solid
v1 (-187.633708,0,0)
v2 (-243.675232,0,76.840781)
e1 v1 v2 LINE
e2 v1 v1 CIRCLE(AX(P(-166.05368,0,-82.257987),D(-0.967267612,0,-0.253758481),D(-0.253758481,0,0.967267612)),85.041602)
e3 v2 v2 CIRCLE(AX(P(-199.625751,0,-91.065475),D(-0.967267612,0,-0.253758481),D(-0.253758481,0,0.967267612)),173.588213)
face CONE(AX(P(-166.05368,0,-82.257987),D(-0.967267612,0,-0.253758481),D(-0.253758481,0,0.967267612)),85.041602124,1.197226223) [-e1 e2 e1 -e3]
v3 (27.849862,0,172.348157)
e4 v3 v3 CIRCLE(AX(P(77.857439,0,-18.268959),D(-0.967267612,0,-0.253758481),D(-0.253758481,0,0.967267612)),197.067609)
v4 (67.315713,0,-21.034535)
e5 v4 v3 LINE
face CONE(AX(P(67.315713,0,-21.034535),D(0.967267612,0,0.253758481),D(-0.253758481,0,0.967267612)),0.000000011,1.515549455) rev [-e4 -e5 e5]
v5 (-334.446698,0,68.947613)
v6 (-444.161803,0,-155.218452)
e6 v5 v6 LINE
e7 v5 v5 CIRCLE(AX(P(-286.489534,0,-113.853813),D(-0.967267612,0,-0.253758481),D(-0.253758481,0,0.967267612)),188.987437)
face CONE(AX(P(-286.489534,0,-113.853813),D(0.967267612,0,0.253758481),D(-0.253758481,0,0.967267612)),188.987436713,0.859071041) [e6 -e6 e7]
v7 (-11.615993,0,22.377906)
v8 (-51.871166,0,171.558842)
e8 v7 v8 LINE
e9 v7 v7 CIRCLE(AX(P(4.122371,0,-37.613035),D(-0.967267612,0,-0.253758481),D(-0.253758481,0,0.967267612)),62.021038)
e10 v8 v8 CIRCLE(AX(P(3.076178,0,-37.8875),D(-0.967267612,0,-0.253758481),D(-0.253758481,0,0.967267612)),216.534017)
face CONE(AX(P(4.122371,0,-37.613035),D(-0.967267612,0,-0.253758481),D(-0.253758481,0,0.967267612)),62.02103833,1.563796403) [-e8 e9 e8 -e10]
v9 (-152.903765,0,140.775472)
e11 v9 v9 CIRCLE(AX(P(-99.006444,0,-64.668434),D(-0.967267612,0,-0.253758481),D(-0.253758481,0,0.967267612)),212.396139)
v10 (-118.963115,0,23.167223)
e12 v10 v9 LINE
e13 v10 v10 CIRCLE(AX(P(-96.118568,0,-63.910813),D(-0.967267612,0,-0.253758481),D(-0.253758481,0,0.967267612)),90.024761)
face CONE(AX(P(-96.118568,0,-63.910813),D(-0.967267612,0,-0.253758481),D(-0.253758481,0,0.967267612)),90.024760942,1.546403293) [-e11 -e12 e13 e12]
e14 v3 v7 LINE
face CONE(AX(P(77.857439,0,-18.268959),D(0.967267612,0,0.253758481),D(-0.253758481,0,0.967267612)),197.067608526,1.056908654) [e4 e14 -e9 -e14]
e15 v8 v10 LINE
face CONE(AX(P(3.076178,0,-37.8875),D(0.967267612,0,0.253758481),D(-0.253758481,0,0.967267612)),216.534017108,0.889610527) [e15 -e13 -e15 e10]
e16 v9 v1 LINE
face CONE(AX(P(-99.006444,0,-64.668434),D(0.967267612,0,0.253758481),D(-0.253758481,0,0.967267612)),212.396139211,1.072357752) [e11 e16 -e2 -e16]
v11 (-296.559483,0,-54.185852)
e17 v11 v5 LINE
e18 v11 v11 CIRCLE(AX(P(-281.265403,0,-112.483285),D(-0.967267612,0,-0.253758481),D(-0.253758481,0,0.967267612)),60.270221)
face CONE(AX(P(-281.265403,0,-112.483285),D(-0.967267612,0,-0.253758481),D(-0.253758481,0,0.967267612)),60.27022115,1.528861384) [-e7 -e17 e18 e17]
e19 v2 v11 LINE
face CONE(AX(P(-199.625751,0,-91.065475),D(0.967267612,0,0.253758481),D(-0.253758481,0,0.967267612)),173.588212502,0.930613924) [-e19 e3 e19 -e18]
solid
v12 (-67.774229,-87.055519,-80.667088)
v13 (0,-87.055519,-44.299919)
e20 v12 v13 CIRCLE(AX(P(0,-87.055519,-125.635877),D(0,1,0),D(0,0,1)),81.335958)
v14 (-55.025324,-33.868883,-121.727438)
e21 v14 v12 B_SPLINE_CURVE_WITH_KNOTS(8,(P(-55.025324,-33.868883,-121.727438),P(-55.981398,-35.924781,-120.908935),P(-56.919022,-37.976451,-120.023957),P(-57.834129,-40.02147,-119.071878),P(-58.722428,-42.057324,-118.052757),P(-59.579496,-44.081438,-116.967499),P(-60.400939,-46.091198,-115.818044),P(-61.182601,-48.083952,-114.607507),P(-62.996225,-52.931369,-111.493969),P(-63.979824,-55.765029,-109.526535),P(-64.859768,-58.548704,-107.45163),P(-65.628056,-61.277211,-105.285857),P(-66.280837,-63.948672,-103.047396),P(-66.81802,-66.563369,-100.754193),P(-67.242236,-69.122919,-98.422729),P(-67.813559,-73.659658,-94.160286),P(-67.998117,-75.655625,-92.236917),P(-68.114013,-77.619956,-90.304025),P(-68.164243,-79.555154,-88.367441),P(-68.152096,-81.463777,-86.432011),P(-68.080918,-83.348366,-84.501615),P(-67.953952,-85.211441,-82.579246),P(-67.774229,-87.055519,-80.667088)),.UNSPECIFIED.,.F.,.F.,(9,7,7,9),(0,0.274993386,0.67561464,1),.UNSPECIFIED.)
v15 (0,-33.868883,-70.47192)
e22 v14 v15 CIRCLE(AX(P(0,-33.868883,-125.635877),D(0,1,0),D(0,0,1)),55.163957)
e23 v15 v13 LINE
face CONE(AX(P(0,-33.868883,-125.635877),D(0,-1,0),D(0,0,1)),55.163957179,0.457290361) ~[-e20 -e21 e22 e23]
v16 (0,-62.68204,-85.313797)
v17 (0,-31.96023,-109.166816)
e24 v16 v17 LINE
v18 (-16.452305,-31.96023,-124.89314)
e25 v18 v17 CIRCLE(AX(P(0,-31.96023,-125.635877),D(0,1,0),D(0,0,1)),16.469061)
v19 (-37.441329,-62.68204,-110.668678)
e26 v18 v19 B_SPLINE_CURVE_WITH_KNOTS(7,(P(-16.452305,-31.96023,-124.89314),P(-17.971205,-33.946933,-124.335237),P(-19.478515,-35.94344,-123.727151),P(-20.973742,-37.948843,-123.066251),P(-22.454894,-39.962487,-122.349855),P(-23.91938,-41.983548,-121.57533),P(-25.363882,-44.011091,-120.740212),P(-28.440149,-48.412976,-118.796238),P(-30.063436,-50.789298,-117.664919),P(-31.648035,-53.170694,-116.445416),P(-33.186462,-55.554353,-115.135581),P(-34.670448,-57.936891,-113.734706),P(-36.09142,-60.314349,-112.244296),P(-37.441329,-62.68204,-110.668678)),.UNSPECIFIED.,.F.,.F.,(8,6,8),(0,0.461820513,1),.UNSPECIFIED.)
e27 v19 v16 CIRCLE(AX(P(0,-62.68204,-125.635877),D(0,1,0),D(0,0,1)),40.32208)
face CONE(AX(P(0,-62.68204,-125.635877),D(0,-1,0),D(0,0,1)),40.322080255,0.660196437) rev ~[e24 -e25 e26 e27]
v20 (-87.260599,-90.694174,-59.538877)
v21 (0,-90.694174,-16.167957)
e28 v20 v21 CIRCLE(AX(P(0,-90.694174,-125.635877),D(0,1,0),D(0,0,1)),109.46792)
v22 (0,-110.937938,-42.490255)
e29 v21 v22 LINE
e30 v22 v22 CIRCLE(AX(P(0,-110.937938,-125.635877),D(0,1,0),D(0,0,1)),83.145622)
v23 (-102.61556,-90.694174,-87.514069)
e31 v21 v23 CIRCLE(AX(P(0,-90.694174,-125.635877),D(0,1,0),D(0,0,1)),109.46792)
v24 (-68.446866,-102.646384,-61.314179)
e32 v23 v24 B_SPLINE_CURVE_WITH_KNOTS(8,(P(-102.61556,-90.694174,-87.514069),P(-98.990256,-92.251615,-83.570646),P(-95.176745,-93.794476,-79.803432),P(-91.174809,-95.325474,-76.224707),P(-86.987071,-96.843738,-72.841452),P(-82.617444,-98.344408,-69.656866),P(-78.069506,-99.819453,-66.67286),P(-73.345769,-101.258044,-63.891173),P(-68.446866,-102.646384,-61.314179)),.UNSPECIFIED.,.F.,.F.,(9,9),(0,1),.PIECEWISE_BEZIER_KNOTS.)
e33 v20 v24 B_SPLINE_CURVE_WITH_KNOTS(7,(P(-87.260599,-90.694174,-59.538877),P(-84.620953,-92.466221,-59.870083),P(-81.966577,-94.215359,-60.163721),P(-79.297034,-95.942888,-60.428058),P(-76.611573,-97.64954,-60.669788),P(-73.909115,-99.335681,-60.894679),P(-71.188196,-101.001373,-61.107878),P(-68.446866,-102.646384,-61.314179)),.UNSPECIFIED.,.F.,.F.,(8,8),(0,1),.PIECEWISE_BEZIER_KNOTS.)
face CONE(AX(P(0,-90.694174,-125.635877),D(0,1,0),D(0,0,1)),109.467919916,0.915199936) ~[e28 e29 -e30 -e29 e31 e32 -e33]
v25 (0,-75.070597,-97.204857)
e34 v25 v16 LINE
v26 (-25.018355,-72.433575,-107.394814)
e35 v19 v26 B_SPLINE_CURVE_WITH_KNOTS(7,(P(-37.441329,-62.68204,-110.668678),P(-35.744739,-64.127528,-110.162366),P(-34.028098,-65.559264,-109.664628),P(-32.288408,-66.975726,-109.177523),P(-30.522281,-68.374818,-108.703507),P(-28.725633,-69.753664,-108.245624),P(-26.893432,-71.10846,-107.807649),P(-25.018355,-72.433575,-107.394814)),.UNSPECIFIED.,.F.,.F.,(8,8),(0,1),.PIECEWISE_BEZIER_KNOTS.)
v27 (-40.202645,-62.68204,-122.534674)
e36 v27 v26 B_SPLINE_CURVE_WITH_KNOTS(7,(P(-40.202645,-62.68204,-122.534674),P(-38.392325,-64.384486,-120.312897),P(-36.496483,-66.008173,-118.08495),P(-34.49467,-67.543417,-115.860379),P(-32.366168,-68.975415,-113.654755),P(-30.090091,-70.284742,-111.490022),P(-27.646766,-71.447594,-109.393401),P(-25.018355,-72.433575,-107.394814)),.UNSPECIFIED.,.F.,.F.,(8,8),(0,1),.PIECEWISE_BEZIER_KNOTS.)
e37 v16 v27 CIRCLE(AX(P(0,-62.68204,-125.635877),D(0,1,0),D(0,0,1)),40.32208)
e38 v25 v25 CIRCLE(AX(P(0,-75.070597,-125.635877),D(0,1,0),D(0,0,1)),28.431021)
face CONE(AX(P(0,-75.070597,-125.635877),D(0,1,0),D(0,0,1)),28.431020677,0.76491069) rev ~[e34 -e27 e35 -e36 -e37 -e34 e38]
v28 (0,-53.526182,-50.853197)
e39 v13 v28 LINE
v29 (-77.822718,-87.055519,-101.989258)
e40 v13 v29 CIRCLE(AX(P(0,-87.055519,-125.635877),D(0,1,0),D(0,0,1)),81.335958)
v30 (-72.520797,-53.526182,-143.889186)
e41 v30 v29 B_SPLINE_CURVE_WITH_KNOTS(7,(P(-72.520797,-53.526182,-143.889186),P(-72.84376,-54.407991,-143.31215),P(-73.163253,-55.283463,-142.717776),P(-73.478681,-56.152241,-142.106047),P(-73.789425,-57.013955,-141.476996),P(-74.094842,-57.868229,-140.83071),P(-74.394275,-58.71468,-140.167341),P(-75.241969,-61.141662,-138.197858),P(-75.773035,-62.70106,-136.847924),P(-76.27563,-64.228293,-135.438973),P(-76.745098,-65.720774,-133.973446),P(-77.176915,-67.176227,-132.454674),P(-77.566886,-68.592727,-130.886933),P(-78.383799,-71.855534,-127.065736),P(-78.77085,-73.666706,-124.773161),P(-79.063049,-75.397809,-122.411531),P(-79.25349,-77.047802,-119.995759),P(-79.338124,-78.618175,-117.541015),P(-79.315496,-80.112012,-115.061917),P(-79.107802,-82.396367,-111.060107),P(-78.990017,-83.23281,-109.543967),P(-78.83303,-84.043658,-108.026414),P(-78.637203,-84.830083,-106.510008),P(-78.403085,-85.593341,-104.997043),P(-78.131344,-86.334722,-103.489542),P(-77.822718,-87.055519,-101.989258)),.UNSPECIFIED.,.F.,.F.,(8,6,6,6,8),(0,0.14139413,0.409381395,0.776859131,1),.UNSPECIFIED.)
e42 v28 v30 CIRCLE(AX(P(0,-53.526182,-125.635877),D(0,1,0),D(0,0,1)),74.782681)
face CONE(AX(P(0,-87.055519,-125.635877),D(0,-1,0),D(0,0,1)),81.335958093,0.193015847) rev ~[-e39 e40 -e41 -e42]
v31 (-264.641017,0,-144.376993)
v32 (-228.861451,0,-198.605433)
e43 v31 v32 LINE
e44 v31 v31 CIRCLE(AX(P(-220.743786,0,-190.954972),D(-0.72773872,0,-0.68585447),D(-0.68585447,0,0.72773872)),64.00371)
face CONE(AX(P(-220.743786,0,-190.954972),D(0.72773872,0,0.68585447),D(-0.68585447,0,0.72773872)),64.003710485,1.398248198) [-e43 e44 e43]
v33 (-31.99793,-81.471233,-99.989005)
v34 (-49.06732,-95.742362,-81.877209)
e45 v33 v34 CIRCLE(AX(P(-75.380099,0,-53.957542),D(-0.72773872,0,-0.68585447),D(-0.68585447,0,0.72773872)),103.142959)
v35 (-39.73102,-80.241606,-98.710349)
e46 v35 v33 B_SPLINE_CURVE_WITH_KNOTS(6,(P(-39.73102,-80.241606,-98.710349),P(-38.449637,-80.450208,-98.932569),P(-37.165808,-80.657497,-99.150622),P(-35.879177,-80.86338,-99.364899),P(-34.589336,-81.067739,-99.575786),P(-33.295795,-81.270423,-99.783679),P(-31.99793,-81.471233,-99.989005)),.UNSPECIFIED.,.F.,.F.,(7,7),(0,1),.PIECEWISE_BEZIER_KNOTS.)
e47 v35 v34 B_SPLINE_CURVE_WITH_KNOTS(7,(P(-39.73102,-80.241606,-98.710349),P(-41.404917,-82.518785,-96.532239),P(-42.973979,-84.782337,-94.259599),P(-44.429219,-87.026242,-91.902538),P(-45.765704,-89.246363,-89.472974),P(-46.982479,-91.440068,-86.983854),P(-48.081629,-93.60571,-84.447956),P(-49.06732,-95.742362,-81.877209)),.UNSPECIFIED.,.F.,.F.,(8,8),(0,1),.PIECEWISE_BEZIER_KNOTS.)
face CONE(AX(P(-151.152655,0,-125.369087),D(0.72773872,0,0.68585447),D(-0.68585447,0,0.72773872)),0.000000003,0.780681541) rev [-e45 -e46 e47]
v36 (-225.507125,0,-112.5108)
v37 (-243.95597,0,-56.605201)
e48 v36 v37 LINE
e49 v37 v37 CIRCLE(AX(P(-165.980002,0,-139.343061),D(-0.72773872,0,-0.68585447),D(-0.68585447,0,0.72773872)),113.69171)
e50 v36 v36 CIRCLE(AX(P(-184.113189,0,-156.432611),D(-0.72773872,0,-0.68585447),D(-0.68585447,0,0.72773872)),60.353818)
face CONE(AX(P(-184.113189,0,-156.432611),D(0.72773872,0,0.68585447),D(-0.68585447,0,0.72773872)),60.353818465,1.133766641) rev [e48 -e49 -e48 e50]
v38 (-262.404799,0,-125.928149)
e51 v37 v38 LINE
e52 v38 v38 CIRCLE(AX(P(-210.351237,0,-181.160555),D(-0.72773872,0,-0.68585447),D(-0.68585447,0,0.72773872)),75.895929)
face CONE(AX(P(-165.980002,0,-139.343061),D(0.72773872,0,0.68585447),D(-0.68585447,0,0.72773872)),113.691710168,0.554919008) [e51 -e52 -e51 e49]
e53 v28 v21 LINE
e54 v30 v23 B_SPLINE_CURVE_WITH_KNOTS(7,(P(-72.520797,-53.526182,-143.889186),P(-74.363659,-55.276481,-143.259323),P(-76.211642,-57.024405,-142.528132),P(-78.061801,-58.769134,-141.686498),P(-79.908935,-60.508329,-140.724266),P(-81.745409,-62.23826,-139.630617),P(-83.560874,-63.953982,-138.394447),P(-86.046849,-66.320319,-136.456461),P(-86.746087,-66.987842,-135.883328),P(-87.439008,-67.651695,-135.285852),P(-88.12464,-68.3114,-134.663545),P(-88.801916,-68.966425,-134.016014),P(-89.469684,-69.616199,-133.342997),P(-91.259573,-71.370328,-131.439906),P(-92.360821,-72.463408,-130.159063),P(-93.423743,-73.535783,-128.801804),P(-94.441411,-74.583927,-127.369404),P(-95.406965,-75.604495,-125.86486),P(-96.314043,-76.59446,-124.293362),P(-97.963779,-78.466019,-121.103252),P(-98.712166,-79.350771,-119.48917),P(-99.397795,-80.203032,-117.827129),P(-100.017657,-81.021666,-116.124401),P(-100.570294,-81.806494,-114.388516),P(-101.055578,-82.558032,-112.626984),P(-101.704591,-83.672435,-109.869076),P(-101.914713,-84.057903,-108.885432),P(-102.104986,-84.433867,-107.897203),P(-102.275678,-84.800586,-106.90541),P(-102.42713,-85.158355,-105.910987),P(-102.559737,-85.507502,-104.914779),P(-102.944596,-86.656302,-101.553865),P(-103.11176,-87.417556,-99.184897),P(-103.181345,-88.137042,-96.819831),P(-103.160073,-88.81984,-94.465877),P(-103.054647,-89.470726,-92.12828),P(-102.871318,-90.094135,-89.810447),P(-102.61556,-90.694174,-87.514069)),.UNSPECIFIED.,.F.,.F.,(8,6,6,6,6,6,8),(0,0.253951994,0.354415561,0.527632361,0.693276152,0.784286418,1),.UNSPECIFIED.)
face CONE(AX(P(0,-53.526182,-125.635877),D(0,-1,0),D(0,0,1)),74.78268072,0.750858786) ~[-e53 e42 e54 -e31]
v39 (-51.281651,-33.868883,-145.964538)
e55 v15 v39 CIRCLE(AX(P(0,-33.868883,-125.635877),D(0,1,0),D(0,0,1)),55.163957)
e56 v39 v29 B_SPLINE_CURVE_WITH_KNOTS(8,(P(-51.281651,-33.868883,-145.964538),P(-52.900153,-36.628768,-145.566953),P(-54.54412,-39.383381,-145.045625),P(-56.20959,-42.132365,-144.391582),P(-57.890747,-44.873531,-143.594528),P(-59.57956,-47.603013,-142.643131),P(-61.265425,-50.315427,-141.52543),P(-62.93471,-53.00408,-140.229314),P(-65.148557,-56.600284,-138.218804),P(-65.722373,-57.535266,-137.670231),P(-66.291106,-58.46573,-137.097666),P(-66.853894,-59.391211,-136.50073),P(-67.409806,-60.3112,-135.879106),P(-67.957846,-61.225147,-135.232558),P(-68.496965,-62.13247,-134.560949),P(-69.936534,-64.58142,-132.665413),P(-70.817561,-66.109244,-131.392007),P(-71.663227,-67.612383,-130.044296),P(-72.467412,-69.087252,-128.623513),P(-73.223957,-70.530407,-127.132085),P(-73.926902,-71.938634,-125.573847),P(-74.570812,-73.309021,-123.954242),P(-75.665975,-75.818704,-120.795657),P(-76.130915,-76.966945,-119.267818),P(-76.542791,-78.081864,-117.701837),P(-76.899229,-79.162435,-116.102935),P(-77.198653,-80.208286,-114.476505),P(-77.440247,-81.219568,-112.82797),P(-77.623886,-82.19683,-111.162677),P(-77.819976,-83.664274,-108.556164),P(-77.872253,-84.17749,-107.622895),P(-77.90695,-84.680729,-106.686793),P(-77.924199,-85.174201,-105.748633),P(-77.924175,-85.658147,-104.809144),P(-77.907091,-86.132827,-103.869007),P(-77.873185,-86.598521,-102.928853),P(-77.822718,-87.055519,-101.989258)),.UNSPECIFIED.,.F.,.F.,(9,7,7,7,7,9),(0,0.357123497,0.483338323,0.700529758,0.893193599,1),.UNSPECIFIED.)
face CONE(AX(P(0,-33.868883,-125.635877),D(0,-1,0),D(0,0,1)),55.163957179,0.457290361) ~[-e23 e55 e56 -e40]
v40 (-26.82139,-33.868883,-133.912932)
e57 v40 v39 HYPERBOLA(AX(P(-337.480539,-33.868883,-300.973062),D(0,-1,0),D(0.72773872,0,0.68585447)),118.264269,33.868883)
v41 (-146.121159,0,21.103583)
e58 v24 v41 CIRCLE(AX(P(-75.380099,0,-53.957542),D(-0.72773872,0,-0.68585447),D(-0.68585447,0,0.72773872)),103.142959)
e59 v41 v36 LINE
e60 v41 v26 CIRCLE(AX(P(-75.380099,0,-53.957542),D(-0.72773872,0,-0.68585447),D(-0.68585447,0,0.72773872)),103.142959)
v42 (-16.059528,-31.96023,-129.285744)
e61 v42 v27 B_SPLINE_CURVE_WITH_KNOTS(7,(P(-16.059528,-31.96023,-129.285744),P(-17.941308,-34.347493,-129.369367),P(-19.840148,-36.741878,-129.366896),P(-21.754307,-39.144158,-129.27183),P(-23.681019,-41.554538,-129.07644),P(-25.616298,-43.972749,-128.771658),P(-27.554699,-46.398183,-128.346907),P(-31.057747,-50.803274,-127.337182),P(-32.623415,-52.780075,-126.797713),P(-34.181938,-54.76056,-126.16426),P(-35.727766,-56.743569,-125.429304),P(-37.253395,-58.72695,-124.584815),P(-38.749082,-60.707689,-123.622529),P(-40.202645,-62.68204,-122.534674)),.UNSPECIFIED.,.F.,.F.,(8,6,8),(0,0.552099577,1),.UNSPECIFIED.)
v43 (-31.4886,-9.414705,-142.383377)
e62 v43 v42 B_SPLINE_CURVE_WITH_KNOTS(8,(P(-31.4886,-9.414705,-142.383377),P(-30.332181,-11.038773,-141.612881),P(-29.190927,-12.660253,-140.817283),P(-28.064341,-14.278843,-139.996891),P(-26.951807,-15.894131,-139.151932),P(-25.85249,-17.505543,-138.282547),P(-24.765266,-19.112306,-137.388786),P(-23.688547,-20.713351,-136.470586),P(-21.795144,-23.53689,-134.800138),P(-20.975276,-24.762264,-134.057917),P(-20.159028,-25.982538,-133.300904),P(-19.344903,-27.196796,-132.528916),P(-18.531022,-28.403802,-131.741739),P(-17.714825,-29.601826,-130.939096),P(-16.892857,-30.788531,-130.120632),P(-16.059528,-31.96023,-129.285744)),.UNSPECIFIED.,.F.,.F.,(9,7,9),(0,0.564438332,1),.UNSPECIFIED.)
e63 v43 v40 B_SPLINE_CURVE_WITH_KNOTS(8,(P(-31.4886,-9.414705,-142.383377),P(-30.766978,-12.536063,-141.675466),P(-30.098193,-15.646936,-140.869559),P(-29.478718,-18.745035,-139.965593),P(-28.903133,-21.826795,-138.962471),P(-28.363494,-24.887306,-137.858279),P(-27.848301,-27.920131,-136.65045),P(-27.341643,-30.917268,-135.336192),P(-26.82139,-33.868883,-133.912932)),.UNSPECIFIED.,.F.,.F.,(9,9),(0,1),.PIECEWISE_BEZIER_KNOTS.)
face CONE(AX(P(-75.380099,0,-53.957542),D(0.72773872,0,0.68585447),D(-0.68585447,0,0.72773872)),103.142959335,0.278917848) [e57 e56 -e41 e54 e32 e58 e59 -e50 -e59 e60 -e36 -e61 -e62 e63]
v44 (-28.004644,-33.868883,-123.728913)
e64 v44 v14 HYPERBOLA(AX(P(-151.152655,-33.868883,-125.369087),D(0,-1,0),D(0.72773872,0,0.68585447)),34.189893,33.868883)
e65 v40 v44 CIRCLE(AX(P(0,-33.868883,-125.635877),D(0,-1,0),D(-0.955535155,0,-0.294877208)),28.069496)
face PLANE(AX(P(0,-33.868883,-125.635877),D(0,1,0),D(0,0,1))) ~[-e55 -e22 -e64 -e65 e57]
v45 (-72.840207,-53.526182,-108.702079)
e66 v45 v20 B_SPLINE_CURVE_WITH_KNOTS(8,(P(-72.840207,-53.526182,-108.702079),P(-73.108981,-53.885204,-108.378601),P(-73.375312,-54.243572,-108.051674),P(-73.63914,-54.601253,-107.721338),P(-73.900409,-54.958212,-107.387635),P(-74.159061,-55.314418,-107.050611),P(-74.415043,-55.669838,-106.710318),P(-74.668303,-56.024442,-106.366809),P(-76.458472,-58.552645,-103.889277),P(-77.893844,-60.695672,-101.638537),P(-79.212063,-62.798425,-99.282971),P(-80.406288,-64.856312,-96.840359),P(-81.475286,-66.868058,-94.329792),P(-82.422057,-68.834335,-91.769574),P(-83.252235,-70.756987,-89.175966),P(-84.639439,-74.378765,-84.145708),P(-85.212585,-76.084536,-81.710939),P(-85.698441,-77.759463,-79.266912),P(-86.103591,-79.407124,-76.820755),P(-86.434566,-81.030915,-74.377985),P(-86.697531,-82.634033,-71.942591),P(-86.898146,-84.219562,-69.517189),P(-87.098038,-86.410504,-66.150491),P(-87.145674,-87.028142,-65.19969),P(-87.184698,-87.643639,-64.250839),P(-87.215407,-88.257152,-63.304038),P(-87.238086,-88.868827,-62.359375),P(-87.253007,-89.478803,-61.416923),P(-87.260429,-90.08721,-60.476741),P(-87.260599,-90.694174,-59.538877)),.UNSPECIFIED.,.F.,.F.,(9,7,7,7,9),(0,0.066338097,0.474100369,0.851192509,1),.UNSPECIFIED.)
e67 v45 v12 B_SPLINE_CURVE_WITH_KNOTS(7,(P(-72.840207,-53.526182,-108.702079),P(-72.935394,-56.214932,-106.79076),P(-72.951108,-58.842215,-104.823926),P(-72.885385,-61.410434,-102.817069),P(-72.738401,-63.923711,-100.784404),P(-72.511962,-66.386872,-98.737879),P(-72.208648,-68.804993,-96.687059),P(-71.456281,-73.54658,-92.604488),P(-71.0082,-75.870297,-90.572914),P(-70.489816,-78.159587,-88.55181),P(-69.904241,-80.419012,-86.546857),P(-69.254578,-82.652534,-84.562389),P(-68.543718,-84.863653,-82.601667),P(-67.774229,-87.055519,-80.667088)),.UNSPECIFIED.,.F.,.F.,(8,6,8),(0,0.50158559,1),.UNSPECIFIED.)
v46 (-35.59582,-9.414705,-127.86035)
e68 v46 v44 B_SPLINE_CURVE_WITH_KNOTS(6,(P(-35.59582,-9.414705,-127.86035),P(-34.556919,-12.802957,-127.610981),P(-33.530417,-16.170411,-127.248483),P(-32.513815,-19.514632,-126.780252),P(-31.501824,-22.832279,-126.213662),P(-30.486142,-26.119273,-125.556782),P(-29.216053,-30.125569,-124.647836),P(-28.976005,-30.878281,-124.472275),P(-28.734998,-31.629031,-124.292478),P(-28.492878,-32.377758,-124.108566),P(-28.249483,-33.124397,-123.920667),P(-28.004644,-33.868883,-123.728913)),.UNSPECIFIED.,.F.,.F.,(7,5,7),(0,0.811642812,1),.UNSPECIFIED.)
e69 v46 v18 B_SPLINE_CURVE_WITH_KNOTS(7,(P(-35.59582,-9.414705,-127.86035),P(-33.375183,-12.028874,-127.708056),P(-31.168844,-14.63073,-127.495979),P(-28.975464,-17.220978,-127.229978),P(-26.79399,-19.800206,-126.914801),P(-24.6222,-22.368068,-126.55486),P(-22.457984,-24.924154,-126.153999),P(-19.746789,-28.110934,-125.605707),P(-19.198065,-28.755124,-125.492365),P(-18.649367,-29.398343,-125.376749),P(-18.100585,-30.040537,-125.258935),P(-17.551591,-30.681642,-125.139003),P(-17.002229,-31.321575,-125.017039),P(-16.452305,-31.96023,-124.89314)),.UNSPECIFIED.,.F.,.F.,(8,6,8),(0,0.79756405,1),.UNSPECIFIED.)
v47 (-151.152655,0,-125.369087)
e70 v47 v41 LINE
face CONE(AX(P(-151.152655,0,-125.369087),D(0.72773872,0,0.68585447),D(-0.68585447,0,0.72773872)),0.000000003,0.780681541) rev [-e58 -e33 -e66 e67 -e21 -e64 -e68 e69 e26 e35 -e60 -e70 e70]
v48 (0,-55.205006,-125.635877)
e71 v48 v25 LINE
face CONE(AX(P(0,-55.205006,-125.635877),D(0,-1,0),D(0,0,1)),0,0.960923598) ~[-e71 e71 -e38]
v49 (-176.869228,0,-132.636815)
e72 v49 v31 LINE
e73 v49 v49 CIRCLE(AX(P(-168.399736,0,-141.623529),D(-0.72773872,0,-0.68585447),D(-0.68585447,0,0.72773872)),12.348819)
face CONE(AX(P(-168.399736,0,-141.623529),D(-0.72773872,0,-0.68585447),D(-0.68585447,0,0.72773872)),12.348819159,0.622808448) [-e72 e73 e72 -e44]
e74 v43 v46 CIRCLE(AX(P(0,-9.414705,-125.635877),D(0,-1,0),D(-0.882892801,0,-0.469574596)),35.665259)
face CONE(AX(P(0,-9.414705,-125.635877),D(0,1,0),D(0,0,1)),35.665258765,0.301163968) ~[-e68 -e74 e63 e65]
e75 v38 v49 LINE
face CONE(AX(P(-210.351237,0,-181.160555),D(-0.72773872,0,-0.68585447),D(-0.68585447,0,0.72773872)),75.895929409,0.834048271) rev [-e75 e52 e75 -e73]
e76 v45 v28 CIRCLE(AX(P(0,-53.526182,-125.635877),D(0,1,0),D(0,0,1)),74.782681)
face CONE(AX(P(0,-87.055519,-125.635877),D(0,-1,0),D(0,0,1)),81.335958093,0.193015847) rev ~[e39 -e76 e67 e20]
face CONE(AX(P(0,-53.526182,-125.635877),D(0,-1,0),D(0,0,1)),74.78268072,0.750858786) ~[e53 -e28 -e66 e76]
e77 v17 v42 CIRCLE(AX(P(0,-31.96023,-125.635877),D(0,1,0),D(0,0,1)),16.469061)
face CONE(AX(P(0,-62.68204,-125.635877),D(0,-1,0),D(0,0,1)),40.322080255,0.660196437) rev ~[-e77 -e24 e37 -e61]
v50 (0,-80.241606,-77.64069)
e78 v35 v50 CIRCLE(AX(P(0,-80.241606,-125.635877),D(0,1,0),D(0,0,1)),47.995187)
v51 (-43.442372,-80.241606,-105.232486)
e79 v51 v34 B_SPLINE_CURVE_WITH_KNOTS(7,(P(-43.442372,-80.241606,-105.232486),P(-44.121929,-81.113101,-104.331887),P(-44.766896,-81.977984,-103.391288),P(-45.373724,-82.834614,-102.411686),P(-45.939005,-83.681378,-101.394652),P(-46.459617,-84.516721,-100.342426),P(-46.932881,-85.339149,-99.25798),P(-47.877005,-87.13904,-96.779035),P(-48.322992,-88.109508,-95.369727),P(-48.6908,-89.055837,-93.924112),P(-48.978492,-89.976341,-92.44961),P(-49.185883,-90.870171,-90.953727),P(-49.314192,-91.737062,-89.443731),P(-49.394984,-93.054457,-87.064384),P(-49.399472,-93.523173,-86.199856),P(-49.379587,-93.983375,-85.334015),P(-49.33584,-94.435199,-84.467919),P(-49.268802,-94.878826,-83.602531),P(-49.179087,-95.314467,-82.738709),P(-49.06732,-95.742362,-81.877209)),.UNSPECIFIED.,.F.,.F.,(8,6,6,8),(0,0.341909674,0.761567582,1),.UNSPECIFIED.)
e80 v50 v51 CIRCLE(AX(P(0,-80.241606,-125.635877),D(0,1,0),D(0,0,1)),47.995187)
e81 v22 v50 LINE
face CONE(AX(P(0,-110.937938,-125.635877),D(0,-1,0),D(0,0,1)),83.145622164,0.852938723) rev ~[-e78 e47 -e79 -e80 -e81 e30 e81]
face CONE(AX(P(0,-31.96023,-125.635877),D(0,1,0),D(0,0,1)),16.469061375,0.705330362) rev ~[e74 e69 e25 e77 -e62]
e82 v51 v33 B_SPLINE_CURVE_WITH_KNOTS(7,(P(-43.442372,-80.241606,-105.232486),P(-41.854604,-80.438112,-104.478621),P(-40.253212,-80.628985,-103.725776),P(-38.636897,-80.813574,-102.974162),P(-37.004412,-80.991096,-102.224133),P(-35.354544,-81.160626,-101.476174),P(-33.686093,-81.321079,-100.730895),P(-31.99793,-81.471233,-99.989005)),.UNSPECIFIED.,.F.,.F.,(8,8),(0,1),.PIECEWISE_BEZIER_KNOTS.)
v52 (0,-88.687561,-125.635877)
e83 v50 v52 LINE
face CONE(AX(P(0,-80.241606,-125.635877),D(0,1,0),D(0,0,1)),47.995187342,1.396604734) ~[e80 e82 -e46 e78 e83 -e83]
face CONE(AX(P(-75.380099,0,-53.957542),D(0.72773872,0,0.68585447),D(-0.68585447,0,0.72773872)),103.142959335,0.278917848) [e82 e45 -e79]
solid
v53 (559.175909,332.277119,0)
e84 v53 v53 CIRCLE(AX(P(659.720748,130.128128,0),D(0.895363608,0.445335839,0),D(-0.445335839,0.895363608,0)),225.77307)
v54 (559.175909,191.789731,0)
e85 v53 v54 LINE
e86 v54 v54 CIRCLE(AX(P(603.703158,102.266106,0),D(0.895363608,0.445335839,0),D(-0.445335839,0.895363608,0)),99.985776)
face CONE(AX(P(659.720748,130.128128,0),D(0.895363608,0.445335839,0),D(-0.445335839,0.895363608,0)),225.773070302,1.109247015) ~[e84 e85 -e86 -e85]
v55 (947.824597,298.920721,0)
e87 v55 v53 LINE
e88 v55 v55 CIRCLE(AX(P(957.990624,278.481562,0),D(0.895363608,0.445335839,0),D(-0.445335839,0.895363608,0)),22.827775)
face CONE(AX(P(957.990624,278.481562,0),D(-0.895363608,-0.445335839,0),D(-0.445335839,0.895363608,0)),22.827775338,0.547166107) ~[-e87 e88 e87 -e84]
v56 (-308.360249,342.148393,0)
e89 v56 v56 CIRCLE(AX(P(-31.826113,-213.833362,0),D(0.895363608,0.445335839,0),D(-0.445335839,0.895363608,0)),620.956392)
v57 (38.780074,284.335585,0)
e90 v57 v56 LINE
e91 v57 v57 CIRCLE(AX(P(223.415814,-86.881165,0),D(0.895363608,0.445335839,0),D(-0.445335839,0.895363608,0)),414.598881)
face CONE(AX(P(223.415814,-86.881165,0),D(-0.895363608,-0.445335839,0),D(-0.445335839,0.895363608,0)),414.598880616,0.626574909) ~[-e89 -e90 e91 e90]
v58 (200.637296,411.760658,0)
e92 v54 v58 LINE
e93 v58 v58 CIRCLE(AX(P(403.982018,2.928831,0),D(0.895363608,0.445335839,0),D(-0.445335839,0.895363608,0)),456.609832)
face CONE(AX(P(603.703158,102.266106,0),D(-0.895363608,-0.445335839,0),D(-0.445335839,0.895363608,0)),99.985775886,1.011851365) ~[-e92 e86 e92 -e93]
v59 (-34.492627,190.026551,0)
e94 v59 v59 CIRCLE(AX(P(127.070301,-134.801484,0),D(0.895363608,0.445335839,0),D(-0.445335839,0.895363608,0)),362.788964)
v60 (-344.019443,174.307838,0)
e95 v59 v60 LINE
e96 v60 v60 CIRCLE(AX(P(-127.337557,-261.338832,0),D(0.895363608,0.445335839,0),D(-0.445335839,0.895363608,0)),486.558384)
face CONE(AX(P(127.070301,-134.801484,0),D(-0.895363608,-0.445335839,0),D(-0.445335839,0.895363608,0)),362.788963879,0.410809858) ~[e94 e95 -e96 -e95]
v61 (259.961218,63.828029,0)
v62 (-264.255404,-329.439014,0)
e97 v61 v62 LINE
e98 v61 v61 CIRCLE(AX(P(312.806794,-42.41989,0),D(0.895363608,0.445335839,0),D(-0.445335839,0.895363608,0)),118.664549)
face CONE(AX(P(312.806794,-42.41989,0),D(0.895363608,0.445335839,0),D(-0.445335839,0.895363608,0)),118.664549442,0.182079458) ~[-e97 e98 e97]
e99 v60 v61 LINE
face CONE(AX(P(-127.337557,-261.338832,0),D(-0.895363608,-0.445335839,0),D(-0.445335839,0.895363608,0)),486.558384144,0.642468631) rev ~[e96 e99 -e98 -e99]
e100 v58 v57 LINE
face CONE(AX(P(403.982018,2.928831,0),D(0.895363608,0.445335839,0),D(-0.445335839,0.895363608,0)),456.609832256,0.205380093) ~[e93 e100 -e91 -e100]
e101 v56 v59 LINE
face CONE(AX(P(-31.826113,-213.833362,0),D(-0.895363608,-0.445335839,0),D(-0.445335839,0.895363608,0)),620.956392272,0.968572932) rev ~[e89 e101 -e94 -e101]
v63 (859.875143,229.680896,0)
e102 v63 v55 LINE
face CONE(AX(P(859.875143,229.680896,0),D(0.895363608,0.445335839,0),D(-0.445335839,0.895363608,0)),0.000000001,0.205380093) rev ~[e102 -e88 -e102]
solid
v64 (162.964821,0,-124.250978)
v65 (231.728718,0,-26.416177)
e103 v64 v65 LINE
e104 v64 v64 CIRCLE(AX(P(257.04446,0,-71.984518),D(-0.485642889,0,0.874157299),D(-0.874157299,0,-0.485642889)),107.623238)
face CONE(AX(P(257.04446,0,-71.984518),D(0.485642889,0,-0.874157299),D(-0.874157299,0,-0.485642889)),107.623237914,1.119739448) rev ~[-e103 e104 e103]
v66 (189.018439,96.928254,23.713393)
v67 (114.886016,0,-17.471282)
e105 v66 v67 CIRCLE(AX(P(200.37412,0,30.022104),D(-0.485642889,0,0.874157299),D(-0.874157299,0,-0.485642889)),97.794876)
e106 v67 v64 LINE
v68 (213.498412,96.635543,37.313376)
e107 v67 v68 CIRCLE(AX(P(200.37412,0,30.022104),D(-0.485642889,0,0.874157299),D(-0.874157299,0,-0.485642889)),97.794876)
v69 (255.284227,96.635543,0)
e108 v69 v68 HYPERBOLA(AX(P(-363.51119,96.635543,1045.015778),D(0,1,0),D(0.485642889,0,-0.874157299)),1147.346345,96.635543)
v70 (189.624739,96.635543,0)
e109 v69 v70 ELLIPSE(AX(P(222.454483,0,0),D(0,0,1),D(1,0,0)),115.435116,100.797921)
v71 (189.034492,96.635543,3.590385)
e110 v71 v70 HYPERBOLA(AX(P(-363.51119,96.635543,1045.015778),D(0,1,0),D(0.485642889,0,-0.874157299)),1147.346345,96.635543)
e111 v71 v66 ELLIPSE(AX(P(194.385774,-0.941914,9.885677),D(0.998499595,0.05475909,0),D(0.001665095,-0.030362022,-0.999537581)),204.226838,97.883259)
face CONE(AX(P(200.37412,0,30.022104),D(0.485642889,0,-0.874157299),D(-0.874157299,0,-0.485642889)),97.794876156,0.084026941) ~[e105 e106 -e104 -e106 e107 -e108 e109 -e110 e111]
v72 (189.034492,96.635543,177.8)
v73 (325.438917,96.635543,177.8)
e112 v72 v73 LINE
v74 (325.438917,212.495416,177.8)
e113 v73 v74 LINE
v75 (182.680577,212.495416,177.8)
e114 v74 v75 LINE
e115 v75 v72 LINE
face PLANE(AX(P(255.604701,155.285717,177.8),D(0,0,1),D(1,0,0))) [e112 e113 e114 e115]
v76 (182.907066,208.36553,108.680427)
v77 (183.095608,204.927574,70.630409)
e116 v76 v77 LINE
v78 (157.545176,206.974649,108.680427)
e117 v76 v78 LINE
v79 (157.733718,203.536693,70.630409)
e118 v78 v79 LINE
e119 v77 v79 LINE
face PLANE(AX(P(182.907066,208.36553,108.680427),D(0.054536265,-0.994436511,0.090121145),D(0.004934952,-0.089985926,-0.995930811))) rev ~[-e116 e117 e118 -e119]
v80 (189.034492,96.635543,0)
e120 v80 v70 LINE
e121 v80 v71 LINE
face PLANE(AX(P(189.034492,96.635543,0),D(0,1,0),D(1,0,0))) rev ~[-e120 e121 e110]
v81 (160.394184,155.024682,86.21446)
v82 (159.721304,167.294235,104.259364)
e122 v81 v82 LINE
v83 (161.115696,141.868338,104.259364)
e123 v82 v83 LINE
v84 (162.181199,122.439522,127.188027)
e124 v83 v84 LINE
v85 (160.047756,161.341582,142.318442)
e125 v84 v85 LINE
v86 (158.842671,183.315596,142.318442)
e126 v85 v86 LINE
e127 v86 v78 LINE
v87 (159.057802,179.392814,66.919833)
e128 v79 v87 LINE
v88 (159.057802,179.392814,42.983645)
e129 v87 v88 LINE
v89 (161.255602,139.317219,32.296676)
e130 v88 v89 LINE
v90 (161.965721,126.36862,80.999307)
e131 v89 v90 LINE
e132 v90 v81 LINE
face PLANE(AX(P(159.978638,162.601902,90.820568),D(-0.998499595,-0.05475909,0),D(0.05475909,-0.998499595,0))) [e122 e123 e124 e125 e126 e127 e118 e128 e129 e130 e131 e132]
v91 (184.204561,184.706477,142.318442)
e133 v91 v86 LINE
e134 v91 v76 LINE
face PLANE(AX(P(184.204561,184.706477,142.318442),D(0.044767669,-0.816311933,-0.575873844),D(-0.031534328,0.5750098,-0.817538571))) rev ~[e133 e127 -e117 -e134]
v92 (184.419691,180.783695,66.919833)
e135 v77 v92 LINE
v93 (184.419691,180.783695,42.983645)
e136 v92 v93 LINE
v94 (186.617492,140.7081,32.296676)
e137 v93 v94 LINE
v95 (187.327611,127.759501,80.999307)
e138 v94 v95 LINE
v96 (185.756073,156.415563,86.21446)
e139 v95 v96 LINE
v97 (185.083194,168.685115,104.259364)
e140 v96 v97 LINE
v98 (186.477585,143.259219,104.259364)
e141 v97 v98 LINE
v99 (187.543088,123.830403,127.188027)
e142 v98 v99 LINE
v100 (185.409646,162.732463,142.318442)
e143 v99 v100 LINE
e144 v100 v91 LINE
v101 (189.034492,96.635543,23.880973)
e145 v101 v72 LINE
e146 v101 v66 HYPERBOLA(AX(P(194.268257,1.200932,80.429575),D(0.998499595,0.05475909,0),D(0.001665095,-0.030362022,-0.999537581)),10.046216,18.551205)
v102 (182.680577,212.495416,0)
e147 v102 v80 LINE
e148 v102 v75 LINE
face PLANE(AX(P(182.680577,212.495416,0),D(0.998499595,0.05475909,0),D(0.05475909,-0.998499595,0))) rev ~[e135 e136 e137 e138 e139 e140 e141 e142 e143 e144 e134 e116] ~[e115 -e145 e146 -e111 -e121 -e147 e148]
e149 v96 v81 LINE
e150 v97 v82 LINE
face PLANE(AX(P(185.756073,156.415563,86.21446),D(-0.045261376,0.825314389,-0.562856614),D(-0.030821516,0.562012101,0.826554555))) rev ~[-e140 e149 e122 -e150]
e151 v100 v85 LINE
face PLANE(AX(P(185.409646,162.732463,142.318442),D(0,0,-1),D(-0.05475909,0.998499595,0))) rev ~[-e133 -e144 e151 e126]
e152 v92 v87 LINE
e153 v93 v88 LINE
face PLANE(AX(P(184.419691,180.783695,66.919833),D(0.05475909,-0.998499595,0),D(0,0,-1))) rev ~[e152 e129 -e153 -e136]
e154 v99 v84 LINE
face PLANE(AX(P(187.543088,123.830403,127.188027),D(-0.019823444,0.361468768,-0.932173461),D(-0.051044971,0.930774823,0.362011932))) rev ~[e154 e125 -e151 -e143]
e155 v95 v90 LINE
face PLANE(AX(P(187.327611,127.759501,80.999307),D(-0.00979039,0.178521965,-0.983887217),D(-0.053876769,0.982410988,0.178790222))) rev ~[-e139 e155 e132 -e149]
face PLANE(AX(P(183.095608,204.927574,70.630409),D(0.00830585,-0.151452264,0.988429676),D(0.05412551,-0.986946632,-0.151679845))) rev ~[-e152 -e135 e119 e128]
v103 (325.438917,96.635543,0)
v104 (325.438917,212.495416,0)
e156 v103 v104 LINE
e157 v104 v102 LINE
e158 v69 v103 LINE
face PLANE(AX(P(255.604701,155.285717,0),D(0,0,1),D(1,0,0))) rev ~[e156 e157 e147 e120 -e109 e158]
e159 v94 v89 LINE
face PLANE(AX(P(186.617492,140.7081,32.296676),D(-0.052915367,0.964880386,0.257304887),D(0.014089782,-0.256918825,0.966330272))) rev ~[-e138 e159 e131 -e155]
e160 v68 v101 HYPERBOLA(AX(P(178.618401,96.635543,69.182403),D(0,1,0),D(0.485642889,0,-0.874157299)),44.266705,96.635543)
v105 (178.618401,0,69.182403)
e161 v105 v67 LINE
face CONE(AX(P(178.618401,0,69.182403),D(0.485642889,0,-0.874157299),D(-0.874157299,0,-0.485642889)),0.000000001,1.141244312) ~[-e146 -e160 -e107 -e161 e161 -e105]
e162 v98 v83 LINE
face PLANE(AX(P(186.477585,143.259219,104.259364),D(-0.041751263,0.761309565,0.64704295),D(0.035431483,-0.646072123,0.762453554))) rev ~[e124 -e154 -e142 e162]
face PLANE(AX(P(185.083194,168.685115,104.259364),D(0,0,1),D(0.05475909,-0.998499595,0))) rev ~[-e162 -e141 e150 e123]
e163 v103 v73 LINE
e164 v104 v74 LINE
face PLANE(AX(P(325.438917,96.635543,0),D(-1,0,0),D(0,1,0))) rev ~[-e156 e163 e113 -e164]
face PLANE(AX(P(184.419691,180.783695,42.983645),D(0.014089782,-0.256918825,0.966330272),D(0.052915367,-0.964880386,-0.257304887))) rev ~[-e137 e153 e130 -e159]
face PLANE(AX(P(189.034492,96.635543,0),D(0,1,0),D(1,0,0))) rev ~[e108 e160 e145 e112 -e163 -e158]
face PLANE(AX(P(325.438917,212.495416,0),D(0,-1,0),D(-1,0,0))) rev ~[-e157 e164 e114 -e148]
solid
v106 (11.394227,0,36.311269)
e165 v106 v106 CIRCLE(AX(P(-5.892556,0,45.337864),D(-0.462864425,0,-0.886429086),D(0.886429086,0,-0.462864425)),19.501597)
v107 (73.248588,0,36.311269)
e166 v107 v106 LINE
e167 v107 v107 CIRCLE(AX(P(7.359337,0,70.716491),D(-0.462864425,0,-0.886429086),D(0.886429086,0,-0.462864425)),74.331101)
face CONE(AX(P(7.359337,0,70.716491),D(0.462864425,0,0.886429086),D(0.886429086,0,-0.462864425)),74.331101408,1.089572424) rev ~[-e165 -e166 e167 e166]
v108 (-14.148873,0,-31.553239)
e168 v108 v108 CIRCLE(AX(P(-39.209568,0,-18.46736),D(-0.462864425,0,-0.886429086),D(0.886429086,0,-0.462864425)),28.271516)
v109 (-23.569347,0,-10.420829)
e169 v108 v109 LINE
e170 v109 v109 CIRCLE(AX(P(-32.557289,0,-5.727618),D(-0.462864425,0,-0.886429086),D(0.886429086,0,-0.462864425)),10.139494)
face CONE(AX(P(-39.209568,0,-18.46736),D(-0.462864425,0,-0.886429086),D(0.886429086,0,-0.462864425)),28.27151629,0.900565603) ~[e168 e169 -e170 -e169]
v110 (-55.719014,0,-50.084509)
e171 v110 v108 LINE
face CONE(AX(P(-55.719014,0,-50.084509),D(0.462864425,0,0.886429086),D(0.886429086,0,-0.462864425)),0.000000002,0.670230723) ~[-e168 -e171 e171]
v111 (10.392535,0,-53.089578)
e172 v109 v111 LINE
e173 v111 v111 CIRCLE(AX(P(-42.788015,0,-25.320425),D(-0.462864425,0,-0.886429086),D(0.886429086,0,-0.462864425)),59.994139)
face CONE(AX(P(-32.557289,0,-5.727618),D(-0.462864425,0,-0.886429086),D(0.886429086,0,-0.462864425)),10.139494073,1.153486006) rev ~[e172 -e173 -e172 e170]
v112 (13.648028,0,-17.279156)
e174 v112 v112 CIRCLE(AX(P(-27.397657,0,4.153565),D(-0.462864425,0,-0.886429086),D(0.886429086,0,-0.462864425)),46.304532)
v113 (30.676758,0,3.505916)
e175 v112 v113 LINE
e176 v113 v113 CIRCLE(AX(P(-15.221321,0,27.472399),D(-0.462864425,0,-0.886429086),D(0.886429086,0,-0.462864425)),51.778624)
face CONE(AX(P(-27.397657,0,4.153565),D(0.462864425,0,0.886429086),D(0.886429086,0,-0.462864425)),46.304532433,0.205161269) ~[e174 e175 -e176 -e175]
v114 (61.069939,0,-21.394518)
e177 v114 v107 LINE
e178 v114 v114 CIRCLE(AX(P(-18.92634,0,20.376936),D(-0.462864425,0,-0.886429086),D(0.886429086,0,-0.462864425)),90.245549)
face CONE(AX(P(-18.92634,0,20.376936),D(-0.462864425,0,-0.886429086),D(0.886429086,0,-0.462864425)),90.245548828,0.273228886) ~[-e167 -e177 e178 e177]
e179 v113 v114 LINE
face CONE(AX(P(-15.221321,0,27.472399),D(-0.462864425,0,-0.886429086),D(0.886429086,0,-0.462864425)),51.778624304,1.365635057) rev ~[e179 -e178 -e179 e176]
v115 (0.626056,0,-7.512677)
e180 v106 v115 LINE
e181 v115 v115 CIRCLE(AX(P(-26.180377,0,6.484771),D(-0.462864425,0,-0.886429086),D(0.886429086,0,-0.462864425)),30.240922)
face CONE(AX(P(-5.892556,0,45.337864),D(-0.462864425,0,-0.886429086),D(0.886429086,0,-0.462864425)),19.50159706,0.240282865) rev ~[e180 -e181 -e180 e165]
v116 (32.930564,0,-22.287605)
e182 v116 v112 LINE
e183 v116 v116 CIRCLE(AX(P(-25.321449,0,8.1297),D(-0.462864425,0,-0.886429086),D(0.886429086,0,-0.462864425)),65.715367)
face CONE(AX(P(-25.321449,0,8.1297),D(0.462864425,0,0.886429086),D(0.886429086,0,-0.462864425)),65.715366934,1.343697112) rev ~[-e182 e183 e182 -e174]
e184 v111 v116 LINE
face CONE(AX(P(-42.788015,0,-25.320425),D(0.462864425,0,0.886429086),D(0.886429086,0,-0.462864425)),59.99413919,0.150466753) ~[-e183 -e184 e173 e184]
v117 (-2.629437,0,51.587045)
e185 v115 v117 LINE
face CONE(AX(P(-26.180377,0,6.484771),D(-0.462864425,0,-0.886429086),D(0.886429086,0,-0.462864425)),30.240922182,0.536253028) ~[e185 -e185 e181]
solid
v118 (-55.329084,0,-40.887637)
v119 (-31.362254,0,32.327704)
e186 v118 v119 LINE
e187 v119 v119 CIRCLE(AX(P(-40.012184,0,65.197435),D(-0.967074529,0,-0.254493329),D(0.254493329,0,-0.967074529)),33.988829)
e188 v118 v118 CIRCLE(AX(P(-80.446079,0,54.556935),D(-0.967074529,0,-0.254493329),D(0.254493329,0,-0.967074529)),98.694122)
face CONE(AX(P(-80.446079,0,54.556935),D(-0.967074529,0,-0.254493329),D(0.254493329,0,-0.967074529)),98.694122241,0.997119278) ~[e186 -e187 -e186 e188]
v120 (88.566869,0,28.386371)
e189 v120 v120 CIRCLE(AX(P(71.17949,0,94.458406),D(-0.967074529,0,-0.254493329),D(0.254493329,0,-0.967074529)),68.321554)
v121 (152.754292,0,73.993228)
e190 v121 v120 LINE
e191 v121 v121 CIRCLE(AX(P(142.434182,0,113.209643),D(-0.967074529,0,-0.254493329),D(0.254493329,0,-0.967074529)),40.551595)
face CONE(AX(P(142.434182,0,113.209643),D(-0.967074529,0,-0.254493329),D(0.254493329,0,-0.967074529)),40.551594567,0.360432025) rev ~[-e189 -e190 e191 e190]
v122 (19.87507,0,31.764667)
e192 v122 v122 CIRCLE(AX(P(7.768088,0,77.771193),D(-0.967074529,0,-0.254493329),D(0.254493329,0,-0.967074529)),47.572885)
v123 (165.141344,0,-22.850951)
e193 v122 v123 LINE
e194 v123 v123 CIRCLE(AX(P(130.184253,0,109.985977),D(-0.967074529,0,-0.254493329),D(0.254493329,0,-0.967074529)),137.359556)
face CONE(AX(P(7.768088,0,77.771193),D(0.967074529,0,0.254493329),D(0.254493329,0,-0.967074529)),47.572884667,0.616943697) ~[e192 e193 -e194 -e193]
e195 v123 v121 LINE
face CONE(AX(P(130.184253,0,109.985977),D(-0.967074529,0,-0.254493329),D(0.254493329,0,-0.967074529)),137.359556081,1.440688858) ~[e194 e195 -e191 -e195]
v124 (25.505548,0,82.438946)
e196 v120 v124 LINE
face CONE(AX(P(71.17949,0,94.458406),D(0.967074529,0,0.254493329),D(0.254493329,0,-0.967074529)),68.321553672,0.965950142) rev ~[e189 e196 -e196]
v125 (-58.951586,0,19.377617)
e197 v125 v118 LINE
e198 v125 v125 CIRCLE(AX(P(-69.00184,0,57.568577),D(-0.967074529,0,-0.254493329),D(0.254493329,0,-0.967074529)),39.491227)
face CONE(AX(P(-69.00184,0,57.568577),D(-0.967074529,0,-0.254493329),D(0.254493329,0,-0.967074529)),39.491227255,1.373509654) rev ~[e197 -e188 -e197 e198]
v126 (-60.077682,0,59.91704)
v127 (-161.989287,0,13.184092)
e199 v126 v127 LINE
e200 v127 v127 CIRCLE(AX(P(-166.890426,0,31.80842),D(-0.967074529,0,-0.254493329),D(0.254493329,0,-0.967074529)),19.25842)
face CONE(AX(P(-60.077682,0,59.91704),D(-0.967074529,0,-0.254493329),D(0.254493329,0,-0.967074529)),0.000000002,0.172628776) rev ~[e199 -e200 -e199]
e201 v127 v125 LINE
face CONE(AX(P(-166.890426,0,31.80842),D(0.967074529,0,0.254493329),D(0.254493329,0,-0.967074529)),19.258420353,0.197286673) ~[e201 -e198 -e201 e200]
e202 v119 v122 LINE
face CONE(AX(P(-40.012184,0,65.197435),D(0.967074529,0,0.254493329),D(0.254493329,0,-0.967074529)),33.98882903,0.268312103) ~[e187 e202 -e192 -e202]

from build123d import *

# Parameters (mm, degrees)
F13_DEPTH = 177.8
F15_DEPTH = 25.4


with BuildPart() as f1:
    # F0 (on Front) → F1 (revolve)
    with BuildSketch(Plane.XZ):
        Polygon((0.6260557566, -7.5126765296), (-2.6294370182, 51.5870451927), (-55.7190142572, -50.0845089555), (-14.148873277, -31.5532386303), (-23.5693465055, -10.420828745), (10.3925345466, -53.0895777047), (32.9305641353, -22.2876053303), (13.6480275542, -17.2791555524), (30.6767579168, 3.5059156362), (61.0699389315, -21.394517933), (73.2485875487, 36.3112688065), (11.3942269236, 36.3112688065), align=None)
    revolve(axis=Axis((-29.1742256377, 0, 0.7512681186), (-0.4628644247, 0, -0.8864290859)))


with BuildPart() as f3:
    # F2 (on Right) → F3 (revolve)
    with BuildSketch(Plane.YZ):
        Polygon((-33.8688828051, -97.5663810968), (-33.8688828051, -70.471920073), (-87.0555192232, -44.2999191582), (-53.5261817276, -50.8531965315), (-90.6941741705, -16.1679573357), (-110.9379380941, -42.4902550876), (-80.2416056395, -77.6406899095), (-88.6875614524, -125.6358772516), (-55.2050061524, -125.6358772516), (-75.0705972314, -97.2048565745), (-62.6820400357, -85.3137969971), (-31.9602303207, -109.166815877), (-9.4147045165, -89.9706184864), align=None)
    revolve(axis=Axis((0, -71.9462838024, -125.6358772516), (0, 1, 0)))

    # F6 (on Front) → F7 (revolve)
    with BuildSketch(Plane.XZ):
        Polygon((-146.1211591959, 21.1035832763), (-225.5071252584, -112.5108003616), (-243.9559698105, -56.6052012146), (-262.4047994614, -125.9281486273), (-176.8692284822, -132.6368153095), (-264.6410167217, -144.3769931793), (-228.861451149, -198.6054331064), (-151.1526554823, -125.3690868616), align=None)
    revolve(axis=Axis((-190.0070533156, 0, -161.987259984), (-0.7277387205, 0, -0.6858544705)))


with BuildPart() as f5:
    # F4 (on Front) → F5 (revolve)
    with BuildSketch(Plane.XZ):
        Polygon((231.7287176847, -26.4161769301), (178.618401289, 69.1824033856), (114.8860156536, -17.4712818116), (162.9648208618, -124.2509782314), align=None)
    revolve(axis=Axis((205.1735594869, 0, 21.3831132278), (-0.4856428892, 0, 0.8741572994)))

    # F12 (on Top) → F13 (join)
    with BuildSketch(Plane.XY):
        Polygon((325.4389166832, 212.4954164028), (182.6805770397, 212.4954164028), (189.0344917774, 96.63554281), (325.4389166832, 96.63554281), align=None)
    extrude(amount=F13_DEPTH)

    # F14 (on face) → F15 (join)
    with BuildSketch(Plane(origin=(193.7513956672, 10.6255928839, 0), x_dir=(0.0547590904, -0.9984995954, 0), z_dir=(-0.9984995954, -0.0547590904, 0))):
        Polygon((-174.3424683809, 142.3184424639), (-198.0370730162, 108.6804270744), (-194.5939511061, 70.6304088235), (-170.4137915764, 66.9198334217), (-170.4137915764, 42.9836448964), (-130.2779763937, 32.2966761887), (-117.3099204898, 80.9993073344), (-146.0090428591, 86.2144604325), (-158.2970321178, 104.2593643069), (-132.832929492, 104.2593643069), (-113.3749186993, 127.1880269051), (-152.3354351521, 142.3184424639), align=None)
    extrude(amount=F15_DEPTH)


with BuildPart() as f9:
    # F8 (on Front) → F9 (revolve)
    with BuildSketch(Plane.XZ):
        Polygon((-31.3622541726, 32.3277041316), (19.8750700802, 31.7646674812), (165.1413440704, -22.8509511799), (152.7542918921, 73.9932283759), (88.5668694973, 28.3863712102), (25.5055483431, 82.4389457703), (-60.0776821375, 59.9170401692), (-161.9892865419, 13.1840920076), (-58.9515864849, 19.3776171654), (-55.3290835886, -40.8876368491), align=None)
    revolve(axis=Axis((-17.2860668972, 0, 71.1779929698), (-0.9670745294, 0, -0.2544933293)))


with BuildPart() as f11:
    # F10 (on Front) → F11 (revolve)
    with BuildSketch(Plane.XZ):
        Polygon((-444.1618025303, -155.2184522152), (67.3157125711, -21.0345350206), (27.849862352, 172.3481565714), (-11.6159934551, 22.3779063672), (-51.8711656332, 171.558842063), (-118.9631149173, 23.1672227383), (-152.90376544, 140.7754719257), (-187.6337081194, 0), (-243.6752319336, 76.8407806754), (-296.5594828129, -54.1858524084), (-334.4466984272, 68.9476132393), align=None)
    revolve(axis=Axis((-188.4230449796, 0, -88.1264936179), (-0.9672676121, 0, -0.2537584807)))


with BuildPart() as f17:
    # F16 (on Top) → F17 (revolve)
    with BuildSketch(Plane.XY):
        Polygon((859.8751425743, 229.6808958054), (947.8245973587, 298.9207208157), (559.1759085655, 332.2771191597), (559.1759085655, 191.7897313833), (200.6372958422, 411.7606580257), (38.7800742254, 284.3355849667), (-308.3602488041, 342.1483933926), (-34.4926267862, 190.0265514851), (-344.0194427967, 174.3078380823), (259.9612176418, 63.8280287385), (-264.2554044724, -329.4390141964), align=None)
    revolve(axis=Axis((297.809869051, -49.8790591955, 0), (0.8953636081, 0.4453358387, 0)))


solid = Compound([f1.part, f3.part, f5.part, f9.part, f11.part, f17.part])
